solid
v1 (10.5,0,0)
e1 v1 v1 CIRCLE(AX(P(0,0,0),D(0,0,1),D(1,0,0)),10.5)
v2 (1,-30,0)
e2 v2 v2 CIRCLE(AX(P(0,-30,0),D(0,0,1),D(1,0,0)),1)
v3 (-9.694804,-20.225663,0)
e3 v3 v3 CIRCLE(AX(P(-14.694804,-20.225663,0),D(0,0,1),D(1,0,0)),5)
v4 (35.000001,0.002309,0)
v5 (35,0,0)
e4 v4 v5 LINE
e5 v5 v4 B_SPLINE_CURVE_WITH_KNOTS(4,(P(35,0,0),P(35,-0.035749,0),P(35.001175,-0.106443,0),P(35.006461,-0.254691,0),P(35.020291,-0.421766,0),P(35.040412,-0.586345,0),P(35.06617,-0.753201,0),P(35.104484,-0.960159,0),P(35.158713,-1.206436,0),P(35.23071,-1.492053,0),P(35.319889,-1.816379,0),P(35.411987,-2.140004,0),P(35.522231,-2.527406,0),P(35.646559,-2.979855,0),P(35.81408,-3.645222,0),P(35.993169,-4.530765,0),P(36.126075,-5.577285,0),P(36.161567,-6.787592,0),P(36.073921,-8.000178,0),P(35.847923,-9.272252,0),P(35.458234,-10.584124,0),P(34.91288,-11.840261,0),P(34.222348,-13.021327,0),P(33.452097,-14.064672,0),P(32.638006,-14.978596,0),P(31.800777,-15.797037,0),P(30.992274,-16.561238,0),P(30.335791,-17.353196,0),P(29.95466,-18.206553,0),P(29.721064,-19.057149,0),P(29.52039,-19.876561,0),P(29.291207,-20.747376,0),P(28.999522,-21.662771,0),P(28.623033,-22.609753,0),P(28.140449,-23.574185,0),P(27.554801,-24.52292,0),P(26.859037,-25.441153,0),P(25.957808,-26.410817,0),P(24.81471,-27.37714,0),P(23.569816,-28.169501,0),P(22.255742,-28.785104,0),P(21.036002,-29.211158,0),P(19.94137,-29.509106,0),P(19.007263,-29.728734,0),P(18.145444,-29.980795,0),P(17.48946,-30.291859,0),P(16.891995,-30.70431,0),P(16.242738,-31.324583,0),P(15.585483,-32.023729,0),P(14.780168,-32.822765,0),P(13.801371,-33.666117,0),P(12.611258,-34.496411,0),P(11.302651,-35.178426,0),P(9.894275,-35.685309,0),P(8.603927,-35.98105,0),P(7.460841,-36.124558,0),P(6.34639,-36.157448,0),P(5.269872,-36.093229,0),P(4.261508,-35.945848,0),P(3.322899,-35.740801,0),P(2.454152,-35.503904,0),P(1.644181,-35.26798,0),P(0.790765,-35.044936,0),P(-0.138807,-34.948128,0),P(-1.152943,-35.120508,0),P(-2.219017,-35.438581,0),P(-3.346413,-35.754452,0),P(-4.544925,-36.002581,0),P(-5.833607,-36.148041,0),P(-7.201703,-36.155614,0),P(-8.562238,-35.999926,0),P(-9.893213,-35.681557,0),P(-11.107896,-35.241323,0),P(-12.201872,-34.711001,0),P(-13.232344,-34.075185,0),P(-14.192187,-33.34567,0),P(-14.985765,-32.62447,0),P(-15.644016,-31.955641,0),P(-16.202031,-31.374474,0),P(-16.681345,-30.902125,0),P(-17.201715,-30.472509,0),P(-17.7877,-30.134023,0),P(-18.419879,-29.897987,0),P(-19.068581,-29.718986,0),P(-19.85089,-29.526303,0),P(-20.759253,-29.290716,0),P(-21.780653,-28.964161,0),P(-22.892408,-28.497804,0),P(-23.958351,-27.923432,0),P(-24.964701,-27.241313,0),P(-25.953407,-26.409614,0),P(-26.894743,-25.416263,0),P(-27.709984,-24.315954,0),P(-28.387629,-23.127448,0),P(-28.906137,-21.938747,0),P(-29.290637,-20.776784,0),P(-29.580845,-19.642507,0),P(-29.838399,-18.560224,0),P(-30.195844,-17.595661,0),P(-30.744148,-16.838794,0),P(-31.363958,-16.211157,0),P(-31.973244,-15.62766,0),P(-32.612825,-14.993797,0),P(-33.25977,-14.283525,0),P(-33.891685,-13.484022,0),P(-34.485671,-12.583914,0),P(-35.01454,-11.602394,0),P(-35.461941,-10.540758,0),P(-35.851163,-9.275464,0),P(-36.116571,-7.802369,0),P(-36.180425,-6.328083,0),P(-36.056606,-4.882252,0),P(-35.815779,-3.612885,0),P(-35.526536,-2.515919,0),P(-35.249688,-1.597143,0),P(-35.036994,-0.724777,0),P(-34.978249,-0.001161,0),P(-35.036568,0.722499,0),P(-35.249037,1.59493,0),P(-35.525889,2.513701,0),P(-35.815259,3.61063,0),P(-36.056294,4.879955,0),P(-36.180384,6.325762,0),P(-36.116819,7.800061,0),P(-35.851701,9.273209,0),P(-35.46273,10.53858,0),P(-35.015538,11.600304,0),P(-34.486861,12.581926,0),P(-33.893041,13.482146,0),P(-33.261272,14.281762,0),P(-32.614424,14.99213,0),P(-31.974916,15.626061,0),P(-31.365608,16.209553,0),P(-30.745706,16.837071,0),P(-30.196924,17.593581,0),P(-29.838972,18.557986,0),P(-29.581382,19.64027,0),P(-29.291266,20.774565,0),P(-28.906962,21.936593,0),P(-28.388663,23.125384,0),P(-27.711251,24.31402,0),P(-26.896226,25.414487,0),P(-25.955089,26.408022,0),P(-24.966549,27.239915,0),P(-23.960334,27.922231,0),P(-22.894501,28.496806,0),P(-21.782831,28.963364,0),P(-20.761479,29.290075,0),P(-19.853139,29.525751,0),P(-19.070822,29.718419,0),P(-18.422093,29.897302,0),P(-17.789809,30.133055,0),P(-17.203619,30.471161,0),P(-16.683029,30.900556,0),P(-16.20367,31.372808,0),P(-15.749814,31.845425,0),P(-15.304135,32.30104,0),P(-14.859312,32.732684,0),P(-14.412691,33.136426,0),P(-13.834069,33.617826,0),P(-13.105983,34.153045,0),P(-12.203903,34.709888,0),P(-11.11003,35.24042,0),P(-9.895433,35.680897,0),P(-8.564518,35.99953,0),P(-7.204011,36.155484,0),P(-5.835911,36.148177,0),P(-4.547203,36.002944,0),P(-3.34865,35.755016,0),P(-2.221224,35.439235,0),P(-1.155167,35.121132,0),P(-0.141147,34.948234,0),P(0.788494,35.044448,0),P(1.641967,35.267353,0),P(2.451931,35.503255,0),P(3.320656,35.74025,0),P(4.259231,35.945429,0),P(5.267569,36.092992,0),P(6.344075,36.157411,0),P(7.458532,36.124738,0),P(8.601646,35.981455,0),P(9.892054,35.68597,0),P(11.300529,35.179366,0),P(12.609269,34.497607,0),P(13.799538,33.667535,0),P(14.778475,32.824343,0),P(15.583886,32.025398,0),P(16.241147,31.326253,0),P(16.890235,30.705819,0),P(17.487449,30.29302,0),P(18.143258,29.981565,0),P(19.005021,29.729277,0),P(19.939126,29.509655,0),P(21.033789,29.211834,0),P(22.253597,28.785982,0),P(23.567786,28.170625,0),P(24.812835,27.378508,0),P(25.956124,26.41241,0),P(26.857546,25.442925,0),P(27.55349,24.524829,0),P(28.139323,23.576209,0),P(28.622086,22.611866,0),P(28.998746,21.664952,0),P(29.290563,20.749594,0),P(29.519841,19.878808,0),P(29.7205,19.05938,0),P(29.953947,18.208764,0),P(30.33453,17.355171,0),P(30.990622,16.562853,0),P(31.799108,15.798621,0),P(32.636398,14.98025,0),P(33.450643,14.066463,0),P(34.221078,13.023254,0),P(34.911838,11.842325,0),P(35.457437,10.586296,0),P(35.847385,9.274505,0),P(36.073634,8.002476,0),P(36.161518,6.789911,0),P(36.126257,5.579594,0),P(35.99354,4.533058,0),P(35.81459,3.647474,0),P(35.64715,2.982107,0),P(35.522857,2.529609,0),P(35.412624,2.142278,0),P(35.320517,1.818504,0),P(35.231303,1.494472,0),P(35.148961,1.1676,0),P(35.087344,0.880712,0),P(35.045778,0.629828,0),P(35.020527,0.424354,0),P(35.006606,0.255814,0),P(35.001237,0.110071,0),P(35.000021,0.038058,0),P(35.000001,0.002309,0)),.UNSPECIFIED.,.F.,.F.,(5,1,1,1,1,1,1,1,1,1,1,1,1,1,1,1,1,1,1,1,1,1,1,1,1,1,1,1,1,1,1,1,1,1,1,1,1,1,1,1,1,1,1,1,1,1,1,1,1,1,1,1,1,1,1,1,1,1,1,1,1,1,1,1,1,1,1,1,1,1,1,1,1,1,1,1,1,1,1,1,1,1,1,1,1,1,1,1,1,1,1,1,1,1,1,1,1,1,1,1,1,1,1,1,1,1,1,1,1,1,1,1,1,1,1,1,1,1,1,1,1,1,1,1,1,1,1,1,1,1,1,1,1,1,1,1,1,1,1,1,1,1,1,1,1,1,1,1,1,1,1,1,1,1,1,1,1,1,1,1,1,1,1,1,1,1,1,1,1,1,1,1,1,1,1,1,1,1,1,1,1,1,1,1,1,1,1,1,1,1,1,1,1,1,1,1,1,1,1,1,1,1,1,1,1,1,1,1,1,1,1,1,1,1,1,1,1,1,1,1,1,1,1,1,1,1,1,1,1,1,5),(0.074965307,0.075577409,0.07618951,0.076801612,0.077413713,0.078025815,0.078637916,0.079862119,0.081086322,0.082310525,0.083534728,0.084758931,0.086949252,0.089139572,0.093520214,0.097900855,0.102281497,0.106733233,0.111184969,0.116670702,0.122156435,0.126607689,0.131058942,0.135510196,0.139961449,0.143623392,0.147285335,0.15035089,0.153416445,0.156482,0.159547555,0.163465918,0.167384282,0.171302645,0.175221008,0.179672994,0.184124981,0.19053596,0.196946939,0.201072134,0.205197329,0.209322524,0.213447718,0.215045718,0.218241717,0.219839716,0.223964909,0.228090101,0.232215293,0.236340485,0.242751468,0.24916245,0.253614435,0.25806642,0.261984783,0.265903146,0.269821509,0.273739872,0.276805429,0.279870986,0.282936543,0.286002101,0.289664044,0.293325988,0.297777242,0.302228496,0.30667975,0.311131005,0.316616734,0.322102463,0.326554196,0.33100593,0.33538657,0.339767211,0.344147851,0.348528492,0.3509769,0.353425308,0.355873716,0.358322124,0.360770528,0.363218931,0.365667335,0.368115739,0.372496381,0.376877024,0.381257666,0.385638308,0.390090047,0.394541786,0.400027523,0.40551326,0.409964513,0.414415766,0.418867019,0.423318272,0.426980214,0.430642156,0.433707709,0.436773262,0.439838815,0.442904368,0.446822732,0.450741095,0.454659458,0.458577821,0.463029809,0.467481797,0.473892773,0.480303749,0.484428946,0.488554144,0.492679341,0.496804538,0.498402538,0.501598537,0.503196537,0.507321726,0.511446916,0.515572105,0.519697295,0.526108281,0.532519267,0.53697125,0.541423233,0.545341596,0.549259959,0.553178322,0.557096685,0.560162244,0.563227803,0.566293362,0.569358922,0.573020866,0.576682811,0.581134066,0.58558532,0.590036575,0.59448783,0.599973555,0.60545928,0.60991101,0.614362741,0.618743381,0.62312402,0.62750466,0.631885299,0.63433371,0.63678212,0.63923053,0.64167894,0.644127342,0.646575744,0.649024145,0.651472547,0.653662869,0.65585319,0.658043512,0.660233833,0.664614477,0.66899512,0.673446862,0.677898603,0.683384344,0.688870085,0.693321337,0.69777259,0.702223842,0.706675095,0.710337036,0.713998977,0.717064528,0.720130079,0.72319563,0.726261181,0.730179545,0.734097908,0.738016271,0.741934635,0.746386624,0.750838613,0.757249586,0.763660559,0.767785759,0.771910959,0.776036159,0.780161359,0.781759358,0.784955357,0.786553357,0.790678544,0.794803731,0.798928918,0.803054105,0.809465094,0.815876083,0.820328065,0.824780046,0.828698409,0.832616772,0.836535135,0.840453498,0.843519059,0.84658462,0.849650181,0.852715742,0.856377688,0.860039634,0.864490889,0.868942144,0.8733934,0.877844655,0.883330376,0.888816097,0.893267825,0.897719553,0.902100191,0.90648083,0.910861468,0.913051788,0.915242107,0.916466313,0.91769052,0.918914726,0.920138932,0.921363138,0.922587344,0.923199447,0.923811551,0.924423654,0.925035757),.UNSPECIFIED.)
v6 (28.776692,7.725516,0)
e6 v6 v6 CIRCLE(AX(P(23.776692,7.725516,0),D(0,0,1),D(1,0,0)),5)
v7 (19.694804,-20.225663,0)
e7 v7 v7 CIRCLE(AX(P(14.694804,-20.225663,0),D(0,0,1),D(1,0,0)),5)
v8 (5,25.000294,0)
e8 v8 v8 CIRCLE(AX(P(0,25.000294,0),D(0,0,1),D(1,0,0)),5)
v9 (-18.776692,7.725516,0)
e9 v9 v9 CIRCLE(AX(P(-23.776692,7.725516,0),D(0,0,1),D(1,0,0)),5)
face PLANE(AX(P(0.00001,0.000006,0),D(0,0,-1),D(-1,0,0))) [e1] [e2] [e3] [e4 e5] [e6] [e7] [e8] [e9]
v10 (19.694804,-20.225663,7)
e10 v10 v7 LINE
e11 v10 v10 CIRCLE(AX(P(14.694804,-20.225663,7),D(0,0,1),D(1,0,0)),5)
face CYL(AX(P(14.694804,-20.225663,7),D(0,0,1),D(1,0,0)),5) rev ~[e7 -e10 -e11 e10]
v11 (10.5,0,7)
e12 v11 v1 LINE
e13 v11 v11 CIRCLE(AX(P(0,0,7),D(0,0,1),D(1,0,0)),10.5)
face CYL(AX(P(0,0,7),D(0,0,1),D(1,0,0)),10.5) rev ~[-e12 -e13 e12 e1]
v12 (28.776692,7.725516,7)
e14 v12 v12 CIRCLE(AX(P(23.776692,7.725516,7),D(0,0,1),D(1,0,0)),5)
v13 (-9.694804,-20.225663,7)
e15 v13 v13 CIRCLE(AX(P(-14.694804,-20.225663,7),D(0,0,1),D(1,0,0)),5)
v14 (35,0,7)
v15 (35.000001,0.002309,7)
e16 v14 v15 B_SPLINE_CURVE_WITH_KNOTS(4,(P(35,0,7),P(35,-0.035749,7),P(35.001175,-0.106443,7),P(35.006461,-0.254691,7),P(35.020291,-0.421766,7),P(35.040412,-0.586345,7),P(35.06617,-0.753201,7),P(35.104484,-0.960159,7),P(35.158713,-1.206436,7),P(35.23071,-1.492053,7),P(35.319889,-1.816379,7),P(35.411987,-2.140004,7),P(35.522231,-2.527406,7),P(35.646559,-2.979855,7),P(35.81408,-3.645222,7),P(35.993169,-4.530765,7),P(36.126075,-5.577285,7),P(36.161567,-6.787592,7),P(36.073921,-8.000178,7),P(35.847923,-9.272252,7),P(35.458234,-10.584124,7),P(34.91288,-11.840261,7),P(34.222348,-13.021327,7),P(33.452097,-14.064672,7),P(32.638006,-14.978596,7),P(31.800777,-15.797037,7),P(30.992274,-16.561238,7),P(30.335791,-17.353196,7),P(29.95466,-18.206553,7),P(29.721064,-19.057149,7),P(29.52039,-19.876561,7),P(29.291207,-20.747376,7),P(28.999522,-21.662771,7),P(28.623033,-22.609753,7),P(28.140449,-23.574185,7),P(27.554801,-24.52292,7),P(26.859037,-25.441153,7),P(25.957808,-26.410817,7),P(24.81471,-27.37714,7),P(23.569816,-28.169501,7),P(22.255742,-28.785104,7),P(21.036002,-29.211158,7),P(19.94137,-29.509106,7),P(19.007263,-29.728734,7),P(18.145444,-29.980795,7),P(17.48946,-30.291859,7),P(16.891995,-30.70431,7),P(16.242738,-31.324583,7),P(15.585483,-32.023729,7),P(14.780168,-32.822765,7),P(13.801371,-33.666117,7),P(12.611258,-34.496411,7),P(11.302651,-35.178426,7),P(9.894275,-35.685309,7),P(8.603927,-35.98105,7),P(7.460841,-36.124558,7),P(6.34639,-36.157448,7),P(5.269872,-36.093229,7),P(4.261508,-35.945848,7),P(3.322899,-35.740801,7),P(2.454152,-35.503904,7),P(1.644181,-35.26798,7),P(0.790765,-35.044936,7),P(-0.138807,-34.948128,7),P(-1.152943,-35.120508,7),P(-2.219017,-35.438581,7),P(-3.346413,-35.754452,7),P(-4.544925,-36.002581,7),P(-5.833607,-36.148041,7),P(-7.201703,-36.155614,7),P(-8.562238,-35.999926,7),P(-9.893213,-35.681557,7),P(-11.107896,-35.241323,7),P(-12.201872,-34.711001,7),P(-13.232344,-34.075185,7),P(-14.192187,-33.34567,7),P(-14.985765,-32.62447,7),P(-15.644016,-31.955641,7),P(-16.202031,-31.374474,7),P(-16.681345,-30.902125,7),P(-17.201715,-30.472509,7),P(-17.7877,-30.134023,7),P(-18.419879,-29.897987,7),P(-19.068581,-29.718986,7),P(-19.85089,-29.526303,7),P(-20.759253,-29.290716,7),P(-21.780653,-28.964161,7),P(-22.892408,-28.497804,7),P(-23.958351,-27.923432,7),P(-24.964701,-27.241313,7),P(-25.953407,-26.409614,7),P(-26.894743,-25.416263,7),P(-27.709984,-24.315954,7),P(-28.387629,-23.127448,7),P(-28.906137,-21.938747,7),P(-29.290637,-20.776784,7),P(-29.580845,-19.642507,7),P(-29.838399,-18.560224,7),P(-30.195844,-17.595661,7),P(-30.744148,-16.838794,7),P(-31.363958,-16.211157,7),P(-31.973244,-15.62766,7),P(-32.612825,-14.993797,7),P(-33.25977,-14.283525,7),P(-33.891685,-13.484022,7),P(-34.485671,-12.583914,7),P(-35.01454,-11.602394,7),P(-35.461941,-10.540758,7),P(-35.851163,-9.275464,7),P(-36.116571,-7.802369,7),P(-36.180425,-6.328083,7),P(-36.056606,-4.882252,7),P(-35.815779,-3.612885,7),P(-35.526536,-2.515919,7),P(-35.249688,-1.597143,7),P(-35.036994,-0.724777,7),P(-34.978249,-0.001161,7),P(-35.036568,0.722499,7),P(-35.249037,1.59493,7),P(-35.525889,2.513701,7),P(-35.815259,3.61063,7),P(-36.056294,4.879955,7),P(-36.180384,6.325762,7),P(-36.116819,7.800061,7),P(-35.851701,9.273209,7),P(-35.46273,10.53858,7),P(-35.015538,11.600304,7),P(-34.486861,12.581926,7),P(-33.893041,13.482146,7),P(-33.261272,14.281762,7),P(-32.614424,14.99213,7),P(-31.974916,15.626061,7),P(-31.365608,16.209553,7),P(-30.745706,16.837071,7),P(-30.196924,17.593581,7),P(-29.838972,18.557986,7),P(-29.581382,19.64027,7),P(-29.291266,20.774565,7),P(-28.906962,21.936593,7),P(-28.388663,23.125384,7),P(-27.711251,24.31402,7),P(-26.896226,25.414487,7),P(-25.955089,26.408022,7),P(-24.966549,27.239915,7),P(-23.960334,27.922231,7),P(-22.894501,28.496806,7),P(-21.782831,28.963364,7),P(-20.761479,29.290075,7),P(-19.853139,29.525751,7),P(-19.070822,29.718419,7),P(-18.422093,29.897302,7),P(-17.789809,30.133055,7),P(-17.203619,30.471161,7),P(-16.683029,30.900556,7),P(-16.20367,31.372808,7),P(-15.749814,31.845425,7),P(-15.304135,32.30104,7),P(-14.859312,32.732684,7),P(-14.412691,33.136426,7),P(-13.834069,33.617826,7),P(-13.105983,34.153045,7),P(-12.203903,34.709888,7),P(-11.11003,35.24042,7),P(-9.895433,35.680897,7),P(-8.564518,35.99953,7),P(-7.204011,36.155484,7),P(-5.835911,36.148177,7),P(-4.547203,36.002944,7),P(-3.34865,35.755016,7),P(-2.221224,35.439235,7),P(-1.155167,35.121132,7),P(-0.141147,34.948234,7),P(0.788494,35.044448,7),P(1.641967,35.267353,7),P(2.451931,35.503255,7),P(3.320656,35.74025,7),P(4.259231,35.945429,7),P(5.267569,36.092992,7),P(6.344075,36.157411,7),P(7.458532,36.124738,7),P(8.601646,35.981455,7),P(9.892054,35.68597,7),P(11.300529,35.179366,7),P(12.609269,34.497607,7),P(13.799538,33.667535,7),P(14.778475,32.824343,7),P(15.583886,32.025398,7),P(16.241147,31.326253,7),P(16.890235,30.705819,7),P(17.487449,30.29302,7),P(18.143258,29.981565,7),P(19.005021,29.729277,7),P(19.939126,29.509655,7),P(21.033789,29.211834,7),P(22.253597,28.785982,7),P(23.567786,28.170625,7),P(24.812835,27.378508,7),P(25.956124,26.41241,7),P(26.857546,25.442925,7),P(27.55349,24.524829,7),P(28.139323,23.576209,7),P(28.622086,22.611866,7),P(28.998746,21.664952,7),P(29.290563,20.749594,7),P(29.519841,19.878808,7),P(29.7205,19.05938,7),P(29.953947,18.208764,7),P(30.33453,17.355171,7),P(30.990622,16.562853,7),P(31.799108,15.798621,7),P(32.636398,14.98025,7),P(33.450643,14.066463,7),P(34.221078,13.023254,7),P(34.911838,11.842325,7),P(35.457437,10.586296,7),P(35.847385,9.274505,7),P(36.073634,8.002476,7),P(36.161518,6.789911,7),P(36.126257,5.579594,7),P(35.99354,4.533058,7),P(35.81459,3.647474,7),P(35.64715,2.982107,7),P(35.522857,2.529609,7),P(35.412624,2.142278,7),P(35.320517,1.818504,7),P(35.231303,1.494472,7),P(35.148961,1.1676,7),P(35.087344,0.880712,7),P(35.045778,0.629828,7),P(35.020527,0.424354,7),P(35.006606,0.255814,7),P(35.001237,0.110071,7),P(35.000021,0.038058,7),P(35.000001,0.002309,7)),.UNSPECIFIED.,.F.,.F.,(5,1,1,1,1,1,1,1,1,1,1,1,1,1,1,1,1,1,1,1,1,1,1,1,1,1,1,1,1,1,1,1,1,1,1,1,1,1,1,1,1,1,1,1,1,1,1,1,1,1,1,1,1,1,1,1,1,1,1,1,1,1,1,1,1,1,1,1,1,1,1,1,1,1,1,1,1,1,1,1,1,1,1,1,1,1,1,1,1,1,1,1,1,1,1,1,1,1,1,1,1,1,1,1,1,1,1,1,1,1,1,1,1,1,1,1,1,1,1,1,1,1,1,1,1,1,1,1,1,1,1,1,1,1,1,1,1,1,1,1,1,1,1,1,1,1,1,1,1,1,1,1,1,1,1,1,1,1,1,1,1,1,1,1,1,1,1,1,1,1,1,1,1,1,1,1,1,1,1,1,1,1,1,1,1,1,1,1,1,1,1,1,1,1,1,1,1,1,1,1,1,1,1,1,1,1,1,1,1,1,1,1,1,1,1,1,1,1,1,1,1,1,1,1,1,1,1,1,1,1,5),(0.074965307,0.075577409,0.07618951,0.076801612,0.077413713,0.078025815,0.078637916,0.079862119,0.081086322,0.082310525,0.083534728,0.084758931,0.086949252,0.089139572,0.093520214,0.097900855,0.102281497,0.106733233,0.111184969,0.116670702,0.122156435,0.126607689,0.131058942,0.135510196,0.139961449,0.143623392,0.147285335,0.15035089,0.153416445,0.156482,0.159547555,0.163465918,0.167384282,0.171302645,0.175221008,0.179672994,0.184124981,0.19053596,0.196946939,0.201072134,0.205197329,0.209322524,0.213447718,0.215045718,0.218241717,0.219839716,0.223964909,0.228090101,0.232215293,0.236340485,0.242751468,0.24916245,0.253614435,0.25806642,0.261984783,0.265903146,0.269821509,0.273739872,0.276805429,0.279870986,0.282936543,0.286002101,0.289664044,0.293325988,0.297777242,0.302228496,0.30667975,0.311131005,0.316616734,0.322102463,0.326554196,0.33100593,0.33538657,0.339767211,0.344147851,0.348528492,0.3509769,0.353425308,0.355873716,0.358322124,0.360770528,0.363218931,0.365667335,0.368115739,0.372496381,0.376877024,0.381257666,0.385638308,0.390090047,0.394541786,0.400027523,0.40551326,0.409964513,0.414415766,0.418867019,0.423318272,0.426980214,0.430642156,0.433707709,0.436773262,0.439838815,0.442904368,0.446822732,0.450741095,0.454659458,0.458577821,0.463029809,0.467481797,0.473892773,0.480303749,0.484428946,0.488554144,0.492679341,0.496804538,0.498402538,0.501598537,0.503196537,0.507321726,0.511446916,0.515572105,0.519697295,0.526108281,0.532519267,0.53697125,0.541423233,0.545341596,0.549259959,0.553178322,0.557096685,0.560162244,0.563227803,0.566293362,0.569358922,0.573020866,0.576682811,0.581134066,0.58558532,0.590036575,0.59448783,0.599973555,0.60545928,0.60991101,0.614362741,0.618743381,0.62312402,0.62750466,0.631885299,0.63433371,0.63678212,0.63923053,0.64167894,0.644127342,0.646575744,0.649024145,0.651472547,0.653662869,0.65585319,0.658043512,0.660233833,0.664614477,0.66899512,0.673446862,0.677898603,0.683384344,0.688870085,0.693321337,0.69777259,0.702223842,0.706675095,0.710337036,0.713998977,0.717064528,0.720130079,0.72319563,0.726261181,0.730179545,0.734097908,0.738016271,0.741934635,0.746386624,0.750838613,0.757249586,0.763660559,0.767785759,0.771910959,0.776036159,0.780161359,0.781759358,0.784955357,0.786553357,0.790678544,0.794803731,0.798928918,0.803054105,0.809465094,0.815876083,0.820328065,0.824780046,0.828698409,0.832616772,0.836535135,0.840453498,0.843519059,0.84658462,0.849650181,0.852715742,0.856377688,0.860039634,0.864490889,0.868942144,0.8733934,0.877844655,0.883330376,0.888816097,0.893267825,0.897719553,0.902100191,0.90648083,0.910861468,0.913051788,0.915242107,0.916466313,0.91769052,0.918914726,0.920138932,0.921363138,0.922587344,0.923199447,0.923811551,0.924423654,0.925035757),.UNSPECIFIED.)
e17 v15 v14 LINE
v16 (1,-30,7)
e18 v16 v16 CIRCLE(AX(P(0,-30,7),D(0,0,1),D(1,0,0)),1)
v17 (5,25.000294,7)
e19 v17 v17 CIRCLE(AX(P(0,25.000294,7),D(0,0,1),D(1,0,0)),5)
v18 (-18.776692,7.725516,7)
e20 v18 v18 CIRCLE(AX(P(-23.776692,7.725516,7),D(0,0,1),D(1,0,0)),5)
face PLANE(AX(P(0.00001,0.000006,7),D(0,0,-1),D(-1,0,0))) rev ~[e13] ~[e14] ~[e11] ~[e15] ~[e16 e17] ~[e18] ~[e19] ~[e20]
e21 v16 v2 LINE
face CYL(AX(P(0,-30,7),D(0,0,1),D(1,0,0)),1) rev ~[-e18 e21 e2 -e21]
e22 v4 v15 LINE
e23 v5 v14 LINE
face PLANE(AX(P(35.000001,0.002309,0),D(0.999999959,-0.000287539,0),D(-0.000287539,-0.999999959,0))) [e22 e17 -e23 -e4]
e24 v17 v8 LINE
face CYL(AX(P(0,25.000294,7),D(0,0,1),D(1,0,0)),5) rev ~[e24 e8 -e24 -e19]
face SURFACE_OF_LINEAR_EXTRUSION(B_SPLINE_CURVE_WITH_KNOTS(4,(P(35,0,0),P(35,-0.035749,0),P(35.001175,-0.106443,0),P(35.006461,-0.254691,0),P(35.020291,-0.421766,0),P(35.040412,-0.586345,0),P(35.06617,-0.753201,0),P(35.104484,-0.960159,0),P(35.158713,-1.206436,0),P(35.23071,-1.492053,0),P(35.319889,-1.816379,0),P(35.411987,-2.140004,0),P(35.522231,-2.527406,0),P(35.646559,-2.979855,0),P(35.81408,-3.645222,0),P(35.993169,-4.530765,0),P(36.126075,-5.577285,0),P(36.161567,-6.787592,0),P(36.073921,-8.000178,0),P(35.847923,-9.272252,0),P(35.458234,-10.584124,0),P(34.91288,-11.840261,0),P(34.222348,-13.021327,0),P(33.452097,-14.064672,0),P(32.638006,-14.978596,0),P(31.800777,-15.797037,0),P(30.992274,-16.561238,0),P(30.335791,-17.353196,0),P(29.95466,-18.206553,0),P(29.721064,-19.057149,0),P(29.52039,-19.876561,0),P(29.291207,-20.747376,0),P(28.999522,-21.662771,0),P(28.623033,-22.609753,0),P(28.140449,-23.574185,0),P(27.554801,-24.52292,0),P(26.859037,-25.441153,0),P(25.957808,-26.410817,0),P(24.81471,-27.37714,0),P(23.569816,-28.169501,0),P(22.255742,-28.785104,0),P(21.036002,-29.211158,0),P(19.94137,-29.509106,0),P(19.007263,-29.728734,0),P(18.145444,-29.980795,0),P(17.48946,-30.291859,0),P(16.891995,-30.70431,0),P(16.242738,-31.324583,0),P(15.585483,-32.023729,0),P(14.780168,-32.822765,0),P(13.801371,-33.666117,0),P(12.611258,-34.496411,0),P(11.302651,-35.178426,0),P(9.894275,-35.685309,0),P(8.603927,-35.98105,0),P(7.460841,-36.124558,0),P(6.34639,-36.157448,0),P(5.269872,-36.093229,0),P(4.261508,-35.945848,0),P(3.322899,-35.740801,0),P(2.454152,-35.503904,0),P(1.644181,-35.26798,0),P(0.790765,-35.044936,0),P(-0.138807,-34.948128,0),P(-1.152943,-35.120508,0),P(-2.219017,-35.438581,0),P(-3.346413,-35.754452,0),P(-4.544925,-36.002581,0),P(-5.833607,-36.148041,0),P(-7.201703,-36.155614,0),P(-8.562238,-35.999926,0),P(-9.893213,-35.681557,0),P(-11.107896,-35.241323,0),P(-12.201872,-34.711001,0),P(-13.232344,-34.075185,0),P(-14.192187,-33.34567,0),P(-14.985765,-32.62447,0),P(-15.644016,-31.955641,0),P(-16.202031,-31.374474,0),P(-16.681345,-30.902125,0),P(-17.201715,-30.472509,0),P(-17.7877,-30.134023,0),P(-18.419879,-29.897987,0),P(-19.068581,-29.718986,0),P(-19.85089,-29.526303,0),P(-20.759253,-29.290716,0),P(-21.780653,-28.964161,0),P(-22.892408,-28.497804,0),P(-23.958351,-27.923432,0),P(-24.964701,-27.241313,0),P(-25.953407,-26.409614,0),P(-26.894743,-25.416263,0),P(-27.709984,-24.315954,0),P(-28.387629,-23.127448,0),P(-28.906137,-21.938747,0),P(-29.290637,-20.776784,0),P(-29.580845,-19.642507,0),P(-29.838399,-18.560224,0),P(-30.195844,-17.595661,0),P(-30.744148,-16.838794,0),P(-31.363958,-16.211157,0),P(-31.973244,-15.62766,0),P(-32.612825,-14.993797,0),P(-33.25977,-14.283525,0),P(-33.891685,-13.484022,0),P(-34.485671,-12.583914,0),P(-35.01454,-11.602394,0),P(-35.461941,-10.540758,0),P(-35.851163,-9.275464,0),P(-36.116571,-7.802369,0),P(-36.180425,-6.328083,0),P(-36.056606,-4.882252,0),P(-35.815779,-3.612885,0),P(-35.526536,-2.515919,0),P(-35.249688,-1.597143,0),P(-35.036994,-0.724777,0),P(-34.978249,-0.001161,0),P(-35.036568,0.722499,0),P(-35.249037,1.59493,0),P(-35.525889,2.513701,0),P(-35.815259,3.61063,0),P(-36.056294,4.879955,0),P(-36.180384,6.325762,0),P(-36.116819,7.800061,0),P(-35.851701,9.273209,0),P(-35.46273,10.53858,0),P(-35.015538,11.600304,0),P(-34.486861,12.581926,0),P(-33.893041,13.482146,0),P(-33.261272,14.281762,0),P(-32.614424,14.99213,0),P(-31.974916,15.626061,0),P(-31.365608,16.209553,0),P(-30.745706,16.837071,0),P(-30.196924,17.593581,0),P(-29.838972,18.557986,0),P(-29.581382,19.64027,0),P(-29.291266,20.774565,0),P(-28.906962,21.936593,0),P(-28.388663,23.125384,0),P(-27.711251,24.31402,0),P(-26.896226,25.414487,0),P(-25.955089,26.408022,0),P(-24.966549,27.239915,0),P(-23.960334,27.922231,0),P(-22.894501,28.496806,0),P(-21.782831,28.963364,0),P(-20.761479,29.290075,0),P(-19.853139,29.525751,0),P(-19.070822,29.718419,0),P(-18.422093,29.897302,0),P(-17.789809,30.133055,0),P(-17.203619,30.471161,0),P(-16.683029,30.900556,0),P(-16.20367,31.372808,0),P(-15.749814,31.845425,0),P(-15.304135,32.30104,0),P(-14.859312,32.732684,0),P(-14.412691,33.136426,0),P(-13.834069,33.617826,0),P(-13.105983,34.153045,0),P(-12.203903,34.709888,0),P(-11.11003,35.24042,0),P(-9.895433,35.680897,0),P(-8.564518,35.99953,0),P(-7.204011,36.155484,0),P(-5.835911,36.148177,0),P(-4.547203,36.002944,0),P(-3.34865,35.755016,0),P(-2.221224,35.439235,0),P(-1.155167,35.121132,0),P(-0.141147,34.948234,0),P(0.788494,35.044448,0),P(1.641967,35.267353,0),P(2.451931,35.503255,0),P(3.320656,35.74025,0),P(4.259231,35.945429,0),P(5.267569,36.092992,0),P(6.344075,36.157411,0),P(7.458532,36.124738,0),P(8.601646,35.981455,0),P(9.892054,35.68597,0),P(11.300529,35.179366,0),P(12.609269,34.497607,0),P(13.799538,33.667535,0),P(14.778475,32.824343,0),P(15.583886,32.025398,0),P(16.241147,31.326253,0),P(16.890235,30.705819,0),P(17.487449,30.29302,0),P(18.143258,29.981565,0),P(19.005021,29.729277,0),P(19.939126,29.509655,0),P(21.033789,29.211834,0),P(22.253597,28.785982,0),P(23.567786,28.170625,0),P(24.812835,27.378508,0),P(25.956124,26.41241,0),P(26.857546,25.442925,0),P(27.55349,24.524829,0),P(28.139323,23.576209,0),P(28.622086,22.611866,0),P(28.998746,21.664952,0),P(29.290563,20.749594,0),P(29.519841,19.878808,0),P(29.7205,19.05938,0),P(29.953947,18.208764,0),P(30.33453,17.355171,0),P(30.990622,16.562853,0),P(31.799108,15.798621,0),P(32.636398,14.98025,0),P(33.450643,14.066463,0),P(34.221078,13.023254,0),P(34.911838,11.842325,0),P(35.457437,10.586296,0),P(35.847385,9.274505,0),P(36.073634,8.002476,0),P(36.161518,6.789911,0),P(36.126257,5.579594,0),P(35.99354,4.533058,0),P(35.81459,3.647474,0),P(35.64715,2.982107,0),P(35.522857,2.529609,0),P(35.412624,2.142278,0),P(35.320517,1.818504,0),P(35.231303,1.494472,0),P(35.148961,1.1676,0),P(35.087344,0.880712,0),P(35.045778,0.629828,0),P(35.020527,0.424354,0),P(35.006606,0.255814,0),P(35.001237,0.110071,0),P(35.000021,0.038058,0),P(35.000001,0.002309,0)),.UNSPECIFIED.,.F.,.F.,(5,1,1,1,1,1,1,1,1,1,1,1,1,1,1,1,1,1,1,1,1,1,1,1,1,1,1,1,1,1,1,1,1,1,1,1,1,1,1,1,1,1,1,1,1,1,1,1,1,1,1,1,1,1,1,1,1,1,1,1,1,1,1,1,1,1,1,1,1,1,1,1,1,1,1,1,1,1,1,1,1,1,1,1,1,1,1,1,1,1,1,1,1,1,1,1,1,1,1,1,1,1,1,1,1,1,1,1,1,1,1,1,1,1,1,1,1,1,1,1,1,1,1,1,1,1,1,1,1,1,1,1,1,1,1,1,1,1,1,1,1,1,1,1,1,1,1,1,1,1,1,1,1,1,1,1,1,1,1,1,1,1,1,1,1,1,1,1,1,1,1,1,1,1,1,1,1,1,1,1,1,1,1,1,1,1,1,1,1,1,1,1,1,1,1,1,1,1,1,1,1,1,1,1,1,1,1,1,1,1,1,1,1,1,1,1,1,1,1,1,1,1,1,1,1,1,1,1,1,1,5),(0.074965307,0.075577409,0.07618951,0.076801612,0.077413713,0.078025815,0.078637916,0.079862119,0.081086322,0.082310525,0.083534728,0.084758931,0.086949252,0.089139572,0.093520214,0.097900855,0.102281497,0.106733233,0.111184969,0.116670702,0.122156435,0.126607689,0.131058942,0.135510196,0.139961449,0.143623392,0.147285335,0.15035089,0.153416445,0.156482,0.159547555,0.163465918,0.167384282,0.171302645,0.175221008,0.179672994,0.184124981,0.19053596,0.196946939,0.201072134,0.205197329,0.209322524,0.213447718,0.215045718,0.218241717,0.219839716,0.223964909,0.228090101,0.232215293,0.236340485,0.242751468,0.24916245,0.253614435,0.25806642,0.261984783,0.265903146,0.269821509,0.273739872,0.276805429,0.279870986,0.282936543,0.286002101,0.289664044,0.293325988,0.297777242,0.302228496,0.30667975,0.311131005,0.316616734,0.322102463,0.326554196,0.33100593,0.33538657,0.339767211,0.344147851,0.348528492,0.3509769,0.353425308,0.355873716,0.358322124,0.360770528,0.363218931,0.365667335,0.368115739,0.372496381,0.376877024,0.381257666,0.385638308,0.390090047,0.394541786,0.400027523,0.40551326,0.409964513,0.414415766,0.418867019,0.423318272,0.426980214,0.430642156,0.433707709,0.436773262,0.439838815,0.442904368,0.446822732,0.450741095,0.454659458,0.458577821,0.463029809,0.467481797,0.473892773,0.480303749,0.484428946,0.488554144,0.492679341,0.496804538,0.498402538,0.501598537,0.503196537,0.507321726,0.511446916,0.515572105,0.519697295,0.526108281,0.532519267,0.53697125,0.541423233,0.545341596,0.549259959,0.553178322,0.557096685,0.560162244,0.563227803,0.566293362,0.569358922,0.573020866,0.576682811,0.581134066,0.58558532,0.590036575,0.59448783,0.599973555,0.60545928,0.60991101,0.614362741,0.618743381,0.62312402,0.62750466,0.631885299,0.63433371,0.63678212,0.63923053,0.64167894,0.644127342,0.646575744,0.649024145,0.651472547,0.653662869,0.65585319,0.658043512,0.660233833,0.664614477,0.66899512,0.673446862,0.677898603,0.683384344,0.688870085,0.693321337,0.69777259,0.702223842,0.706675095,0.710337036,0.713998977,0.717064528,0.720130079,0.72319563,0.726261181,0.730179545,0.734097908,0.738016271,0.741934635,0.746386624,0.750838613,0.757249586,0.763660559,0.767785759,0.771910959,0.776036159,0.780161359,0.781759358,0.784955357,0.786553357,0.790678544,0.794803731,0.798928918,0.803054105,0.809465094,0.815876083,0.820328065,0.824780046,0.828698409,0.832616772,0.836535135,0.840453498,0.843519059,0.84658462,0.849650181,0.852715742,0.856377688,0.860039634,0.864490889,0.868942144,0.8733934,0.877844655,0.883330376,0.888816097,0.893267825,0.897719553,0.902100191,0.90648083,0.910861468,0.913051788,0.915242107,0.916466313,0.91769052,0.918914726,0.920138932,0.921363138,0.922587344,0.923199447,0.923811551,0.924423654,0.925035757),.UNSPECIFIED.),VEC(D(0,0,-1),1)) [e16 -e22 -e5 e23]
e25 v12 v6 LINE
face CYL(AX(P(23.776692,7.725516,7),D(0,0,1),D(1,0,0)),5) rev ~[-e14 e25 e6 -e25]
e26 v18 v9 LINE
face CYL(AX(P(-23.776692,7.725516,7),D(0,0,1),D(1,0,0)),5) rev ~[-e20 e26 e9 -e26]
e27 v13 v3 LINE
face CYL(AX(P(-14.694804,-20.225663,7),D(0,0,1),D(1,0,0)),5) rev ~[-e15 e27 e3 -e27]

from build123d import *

# Parameters (mm, degrees)
BOSS_EXTRUDE2_DEPTH     = 7
SKETCH3_R               = 10.5
SKETCH3_R_2             = 5
CUT_EXTRUDE1_DEPTH      = 52.585130611
CUT_EXTRUDE1_DEPTH_BACK = 52.585130611
SKETCH4_R               = 1
CUT_EXTRUDE3_DEPTH      = 52.585130611
CUT_EXTRUDE3_DEPTH_BACK = 52.585130611


with BuildPart() as part:
    # Sketch1 → Boss-Extrude2 (new body)
    with BuildSketch(Plane.XY):
        with BuildLine():
            add(Edge.make_bspline(
                [(35, -1e-09), (35, -0.035748813), (35.001174741, -0.106443172), (35.006460851, -0.254691406), (35.020290806, -0.421765972), (35.040411627, -0.586344674), (35.066169832, -0.753201356), (35.104483703, -0.960158501), (35.158713304, -1.206436386), (35.23070995, -1.492053324), (35.319889091, -1.816379491), (35.411987456, -2.140004144), (35.522230647, -2.5274057), (35.646559151, -2.979855302), (35.814079541, -3.645221956), (35.993169468, -4.530765134), (36.126074893, -5.577284833), (36.161566916, -6.787591776), (36.073920835, -8.000177801), (35.847922607, -9.272252293), (35.458234251, -10.584124304), (34.912879602, -11.84026063), (34.222348419, -13.021326943), (33.452097045, -14.064672419), (32.638005801, -14.978595593), (31.800776557, -15.797037086), (30.992274306, -16.561238181), (30.335790971, -17.353195841), (29.954659551, -18.206553476), (29.721064246, -19.057149255), (29.520389712, -19.876560523), (29.29120719, -20.747375681), (28.999522289, -21.662770769), (28.62303256, -22.609753328), (28.140448972, -23.574184953), (27.554800925, -24.522920471), (26.859037082, -25.441153346), (25.957807793, -26.410817168), (24.814710272, -27.37713988), (23.569816068, -28.169500638), (22.25574189, -28.785103627), (21.036001915, -29.21115758), (19.941369596, -29.509105935), (19.007263082, -29.728734488), (18.145443968, -29.980795188), (17.489459792, -30.291858859), (16.891994887, -30.70431031), (16.242738175, -31.324583169), (15.585483067, -32.023729413), (14.780167669, -32.822764851), (13.801371148, -33.666117096), (12.611257978, -34.496411151), (11.302650847, -35.178426225), (9.894275196, -35.685309146), (8.603926614, -35.981050011), (7.460841245, -36.124557527), (6.346390484, -36.157448488), (5.26987209, -36.093228973), (4.261507708, -35.945848008), (3.322898516, -35.740801116), (2.454151769, -35.503903936), (1.644181336, -35.267980259), (0.790764861, -35.044935546), (-0.138806741, -34.948128452), (-1.152942711, -35.120508223), (-2.219017303, -35.438581001), (-3.346413343, -35.75445175), (-4.544925182, -36.002580696), (-5.833606809, -36.14804133), (-7.201702706, -36.155613973), (-8.562238347, -35.999926295), (-9.893213098, -35.681557208), (-11.107895601, -35.2413226), (-12.201871839, -34.711000677), (-13.232344228, -34.075184788), (-14.192186969, -33.345670465), (-14.985765308, -32.624470319), (-15.644015757, -31.955640636), (-16.202030999, -31.374474466), (-16.681344535, -30.902125152), (-17.201714817, -30.472508522), (-17.787699676, -30.134022698), (-18.419879395, -29.897986517), (-19.068580749, -29.718985956), (-19.850890328, -29.52630332), (-20.759253032, -29.290715815), (-21.780652595, -28.964161205), (-22.892408145, -28.497804038), (-23.95835058, -27.923432089), (-24.964701167, -27.241312991), (-25.953406961, -26.409613508), (-26.894743195, -25.416263322), (-27.709984084, -24.315953661), (-28.387629292, -23.127448465), (-28.906137471, -21.938747321), (-29.29063742, -20.77678448), (-29.58084467, -19.64250743), (-29.838399332, -18.560223953), (-30.195844347, -17.595661004), (-30.744148376, -16.838793617), (-31.363957519, -16.211156701), (-31.973243787, -15.627660139), (-32.612825009, -14.993797299), (-33.259770483, -14.28352513), (-33.891684804, -13.484021898), (-34.485670855, -12.583913516), (-35.014539948, -11.602393976), (-35.461940563, -10.540757516), (-35.851163087, -9.27546387), (-36.116571258, -7.802368745), (-36.180424962, -6.328082543), (-36.056605603, -4.882251586), (-35.81577894, -3.612884796), (-35.526535617, -2.515918954), (-35.249687803, -1.597143184), (-35.036994416, -0.724777205), (-34.978249366, -0.001161146), (-35.03656822, 0.722499056), (-35.249036939, 1.594929953), (-35.525889263, 2.513701207), (-35.815258507, 3.610630268), (-36.056294473, 4.879955035), (-36.180383522, 6.325762446), (-36.116818592, 7.80006116), (-35.851701171, 9.273209403), (-35.462729657, 10.538580185), (-35.015537677, 11.60030403), (-34.486860774, 12.581926477), (-33.893041419, 13.482146055), (-33.261271814, 14.281762477), (-32.614423945, 14.992130333), (-31.974916048, 15.626061191), (-31.365607541, 16.209552634), (-30.74570625, 16.837071279), (-30.196923613, 17.593581211), (-29.838971844, 18.55798571), (-29.581381804, 19.640270086), (-29.291266492, 20.774565021), (-28.906961542, 21.936592862), (-28.388663287, 23.125384299), (-27.71125116, 24.314019865), (-26.896225598, 25.414486914), (-25.955089174, 26.408021886), (-24.966548554, 27.239915067), (-23.960333525, 27.922230827), (-22.894500967, 28.496805953), (-21.782830577, 28.963363711), (-20.761478802, 29.290075182), (-19.8531392, 29.525751028), (-19.070822243, 29.718419118), (-18.422093226, 29.897302044), (-17.789809208, 30.133054574), (-17.203619329, 30.471160547), (-16.683028657, 30.900556334), (-16.203669767, 31.372808121), (-15.749813855, 31.845425384), (-15.304135219, 32.301040081), (-14.859312337, 32.732683862), (-14.412691124, 33.136426138), (-13.834069011, 33.617825723), (-13.105982691, 34.153044956), (-12.203903435, 34.709887775), (-11.110029805, 35.240419619), (-9.895432592, 35.680897195), (-8.56451793, 35.999529741), (-7.204011033, 36.155483984), (-5.835911474, 36.148177443), (-4.547203124, 36.002944361), (-3.348650031, 35.755016446), (-2.22122352, 35.439234569), (-1.155167273, 35.121131621), (-0.14114749, 34.948234279), (0.788494246, 35.044447841), (1.641967194, 35.267353395), (2.451930957, 35.50325516), (3.320655503, 35.740249796), (4.259230622, 35.945429029), (5.267569333, 36.092991896), (6.34407475, 36.15741136), (7.458532459, 36.124738287), (8.601646434, 35.981455146), (9.892053677, 35.685970239), (11.300528658, 35.179365694), (12.609269312, 34.497606986), (13.799537711, 33.667534745), (14.778475291, 32.824342775), (15.583885554, 32.025398031), (16.241146923, 31.326253495), (16.890235273, 30.705818725), (17.487448883, 30.293020445), (18.143258036, 29.981565482), (19.00502096, 29.729277488), (19.939125813, 29.509654987), (21.033789234, 29.211834012), (22.253597456, 28.785982305), (23.567786059, 28.17062464), (24.812835451, 27.378507724), (25.956124308, 26.412410279), (26.857545877, 25.442925301), (27.553489696, 24.524829447), (28.139322952, 23.576208944), (28.622086182, 22.611866113), (28.998746314, 21.664952299), (29.290562902, 20.749593918), (29.519841068, 19.878808244), (29.720500124, 19.059380306), (29.953947205, 18.208763871), (30.334529932, 17.355170741), (30.990622265, 16.562853219), (31.799107536, 15.798620905), (32.636398173, 14.980249973), (33.450643196, 14.06646326), (34.221077713, 13.023254245), (34.911838297, 11.842324928), (35.457436926, 10.586295957), (35.847385145, 9.274505295), (36.07363379, 8.002476015), (36.161517809, 6.789910979), (36.126256993, 5.5795939), (35.993540352, 4.533057767), (35.814590418, 3.647474043), (35.647149706, 2.982107194), (35.522856953, 2.529609193), (35.412623714, 2.142278265), (35.320517228, 1.818504466), (35.231303432, 1.494471893), (35.148961187, 1.167599504), (35.087344349, 0.880712203), (35.045777605, 0.629827649), (35.020527431, 0.424354229), (35.006606435, 0.25581412), (35.001237329, 0.110071018), (35.000021225, 0.03805815), (35.000000664, 0.002309249)],
                knots=[0.074965307, 0.074965307, 0.074965307, 0.074965307, 0.074965307, 0.075577409, 0.07618951, 0.076801612, 0.077413713, 0.078025815, 0.078637916, 0.079862119, 0.081086322, 0.082310525, 0.083534728, 0.084758931, 0.086949252, 0.089139572, 0.093520214, 0.097900855, 0.102281497, 0.106733233, 0.111184969, 0.116670702, 0.122156435, 0.126607689, 0.131058942, 0.135510196, 0.139961449, 0.143623392, 0.147285335, 0.15035089, 0.153416445, 0.156482, 0.159547555, 0.163465918, 0.167384282, 0.171302645, 0.175221008, 0.179672994, 0.184124981, 0.19053596, 0.196946939, 0.201072134, 0.205197329, 0.209322524, 0.213447718, 0.215045718, 0.218241717, 0.219839716, 0.223964909, 0.228090101, 0.232215293, 0.236340485, 0.242751468, 0.24916245, 0.253614435, 0.25806642, 0.261984783, 0.265903146, 0.269821509, 0.273739872, 0.276805429, 0.279870986, 0.282936543, 0.286002101, 0.289664044, 0.293325988, 0.297777242, 0.302228496, 0.30667975, 0.311131005, 0.316616734, 0.322102463, 0.326554196, 0.33100593, 0.33538657, 0.339767211, 0.344147851, 0.348528492, 0.3509769, 0.353425308, 0.355873716, 0.358322124, 0.360770528, 0.363218931, 0.365667335, 0.368115739, 0.372496381, 0.376877024, 0.381257666, 0.385638308, 0.390090047, 0.394541786, 0.400027523, 0.40551326, 0.409964513, 0.414415766, 0.418867019, 0.423318272, 0.426980214, 0.430642156, 0.433707709, 0.436773262, 0.439838815, 0.442904368, 0.446822732, 0.450741095, 0.454659458, 0.458577821, 0.463029809, 0.467481797, 0.473892773, 0.480303749, 0.484428946, 0.488554144, 0.492679341, 0.496804538, 0.498402538, 0.501598537, 0.503196537, 0.507321726, 0.511446916, 0.515572105, 0.519697295, 0.526108281, 0.532519267, 0.53697125, 0.541423233, 0.545341596, 0.549259959, 0.553178322, 0.557096685, 0.560162244, 0.563227803, 0.566293362, 0.569358922, 0.573020866, 0.576682811, 0.581134066, 0.58558532, 0.590036575, 0.59448783, 0.599973555, 0.60545928, 0.60991101, 0.614362741, 0.618743381, 0.62312402, 0.62750466, 0.631885299, 0.63433371, 0.63678212, 0.63923053, 0.64167894, 0.644127342, 0.646575744, 0.649024145, 0.651472547, 0.653662869, 0.65585319, 0.658043512, 0.660233833, 0.664614477, 0.66899512, 0.673446862, 0.677898603, 0.683384344, 0.688870085, 0.693321337, 0.69777259, 0.702223842, 0.706675095, 0.710337036, 0.713998977, 0.717064528, 0.720130079, 0.72319563, 0.726261181, 0.730179545, 0.734097908, 0.738016271, 0.741934635, 0.746386624, 0.750838613, 0.757249586, 0.763660559, 0.767785759, 0.771910959, 0.776036159, 0.780161359, 0.781759358, 0.784955357, 0.786553357, 0.790678544, 0.794803731, 0.798928918, 0.803054105, 0.809465094, 0.815876083, 0.820328065, 0.824780046, 0.828698409, 0.832616772, 0.836535135, 0.840453498, 0.843519059, 0.84658462, 0.849650181, 0.852715742, 0.856377688, 0.860039634, 0.864490889, 0.868942144, 0.8733934, 0.877844655, 0.883330376, 0.888816097, 0.893267825, 0.897719553, 0.902100191, 0.90648083, 0.910861468, 0.913051788, 0.915242107, 0.916466313, 0.91769052, 0.918914726, 0.920138932, 0.921363138, 0.922587344, 0.923199447, 0.923811551, 0.924423654, 0.925035757, 0.925035757, 0.925035757, 0.925035757, 0.925035757], degree=4))
            Line((35.000000664, 0.002309249), (35, -1e-09))
        make_face()
    extrude(amount=BOSS_EXTRUDE2_DEPTH)

    # Sketch3 → Cut-Extrude1 (cut, two sides)
    with BuildSketch(Plane.XY.offset(7)) as cut_extrude1_sk:
        Circle(SKETCH3_R)
        with Locations((0, 25.000293877)):
            Circle(SKETCH3_R_2)
        with Locations((23.776692401, 7.725515672)):
            Circle(SKETCH3_R_2)
        with Locations((14.694804044, -20.225662611)):
            Circle(SKETCH3_R_2)
        with Locations((-14.694804044, -20.225662611)):
            Circle(SKETCH3_R_2)
        with Locations((-23.776692401, 7.725515672)):
            Circle(SKETCH3_R_2)
    extrude(amount=CUT_EXTRUDE1_DEPTH, mode=Mode.SUBTRACT)
    extrude(cut_extrude1_sk.sketch, amount=-CUT_EXTRUDE1_DEPTH_BACK, mode=Mode.SUBTRACT)

    # Sketch4 → Cut-Extrude3 (cut, two sides)
    with BuildSketch(Plane.XY.offset(7)) as cut_extrude3_sk:
        with Locations((0, -30)):
            Circle(SKETCH4_R)
    extrude(amount=CUT_EXTRUDE3_DEPTH, mode=Mode.SUBTRACT)
    extrude(cut_extrude3_sk.sketch, amount=-CUT_EXTRUDE3_DEPTH_BACK, mode=Mode.SUBTRACT)


solid = part.part
